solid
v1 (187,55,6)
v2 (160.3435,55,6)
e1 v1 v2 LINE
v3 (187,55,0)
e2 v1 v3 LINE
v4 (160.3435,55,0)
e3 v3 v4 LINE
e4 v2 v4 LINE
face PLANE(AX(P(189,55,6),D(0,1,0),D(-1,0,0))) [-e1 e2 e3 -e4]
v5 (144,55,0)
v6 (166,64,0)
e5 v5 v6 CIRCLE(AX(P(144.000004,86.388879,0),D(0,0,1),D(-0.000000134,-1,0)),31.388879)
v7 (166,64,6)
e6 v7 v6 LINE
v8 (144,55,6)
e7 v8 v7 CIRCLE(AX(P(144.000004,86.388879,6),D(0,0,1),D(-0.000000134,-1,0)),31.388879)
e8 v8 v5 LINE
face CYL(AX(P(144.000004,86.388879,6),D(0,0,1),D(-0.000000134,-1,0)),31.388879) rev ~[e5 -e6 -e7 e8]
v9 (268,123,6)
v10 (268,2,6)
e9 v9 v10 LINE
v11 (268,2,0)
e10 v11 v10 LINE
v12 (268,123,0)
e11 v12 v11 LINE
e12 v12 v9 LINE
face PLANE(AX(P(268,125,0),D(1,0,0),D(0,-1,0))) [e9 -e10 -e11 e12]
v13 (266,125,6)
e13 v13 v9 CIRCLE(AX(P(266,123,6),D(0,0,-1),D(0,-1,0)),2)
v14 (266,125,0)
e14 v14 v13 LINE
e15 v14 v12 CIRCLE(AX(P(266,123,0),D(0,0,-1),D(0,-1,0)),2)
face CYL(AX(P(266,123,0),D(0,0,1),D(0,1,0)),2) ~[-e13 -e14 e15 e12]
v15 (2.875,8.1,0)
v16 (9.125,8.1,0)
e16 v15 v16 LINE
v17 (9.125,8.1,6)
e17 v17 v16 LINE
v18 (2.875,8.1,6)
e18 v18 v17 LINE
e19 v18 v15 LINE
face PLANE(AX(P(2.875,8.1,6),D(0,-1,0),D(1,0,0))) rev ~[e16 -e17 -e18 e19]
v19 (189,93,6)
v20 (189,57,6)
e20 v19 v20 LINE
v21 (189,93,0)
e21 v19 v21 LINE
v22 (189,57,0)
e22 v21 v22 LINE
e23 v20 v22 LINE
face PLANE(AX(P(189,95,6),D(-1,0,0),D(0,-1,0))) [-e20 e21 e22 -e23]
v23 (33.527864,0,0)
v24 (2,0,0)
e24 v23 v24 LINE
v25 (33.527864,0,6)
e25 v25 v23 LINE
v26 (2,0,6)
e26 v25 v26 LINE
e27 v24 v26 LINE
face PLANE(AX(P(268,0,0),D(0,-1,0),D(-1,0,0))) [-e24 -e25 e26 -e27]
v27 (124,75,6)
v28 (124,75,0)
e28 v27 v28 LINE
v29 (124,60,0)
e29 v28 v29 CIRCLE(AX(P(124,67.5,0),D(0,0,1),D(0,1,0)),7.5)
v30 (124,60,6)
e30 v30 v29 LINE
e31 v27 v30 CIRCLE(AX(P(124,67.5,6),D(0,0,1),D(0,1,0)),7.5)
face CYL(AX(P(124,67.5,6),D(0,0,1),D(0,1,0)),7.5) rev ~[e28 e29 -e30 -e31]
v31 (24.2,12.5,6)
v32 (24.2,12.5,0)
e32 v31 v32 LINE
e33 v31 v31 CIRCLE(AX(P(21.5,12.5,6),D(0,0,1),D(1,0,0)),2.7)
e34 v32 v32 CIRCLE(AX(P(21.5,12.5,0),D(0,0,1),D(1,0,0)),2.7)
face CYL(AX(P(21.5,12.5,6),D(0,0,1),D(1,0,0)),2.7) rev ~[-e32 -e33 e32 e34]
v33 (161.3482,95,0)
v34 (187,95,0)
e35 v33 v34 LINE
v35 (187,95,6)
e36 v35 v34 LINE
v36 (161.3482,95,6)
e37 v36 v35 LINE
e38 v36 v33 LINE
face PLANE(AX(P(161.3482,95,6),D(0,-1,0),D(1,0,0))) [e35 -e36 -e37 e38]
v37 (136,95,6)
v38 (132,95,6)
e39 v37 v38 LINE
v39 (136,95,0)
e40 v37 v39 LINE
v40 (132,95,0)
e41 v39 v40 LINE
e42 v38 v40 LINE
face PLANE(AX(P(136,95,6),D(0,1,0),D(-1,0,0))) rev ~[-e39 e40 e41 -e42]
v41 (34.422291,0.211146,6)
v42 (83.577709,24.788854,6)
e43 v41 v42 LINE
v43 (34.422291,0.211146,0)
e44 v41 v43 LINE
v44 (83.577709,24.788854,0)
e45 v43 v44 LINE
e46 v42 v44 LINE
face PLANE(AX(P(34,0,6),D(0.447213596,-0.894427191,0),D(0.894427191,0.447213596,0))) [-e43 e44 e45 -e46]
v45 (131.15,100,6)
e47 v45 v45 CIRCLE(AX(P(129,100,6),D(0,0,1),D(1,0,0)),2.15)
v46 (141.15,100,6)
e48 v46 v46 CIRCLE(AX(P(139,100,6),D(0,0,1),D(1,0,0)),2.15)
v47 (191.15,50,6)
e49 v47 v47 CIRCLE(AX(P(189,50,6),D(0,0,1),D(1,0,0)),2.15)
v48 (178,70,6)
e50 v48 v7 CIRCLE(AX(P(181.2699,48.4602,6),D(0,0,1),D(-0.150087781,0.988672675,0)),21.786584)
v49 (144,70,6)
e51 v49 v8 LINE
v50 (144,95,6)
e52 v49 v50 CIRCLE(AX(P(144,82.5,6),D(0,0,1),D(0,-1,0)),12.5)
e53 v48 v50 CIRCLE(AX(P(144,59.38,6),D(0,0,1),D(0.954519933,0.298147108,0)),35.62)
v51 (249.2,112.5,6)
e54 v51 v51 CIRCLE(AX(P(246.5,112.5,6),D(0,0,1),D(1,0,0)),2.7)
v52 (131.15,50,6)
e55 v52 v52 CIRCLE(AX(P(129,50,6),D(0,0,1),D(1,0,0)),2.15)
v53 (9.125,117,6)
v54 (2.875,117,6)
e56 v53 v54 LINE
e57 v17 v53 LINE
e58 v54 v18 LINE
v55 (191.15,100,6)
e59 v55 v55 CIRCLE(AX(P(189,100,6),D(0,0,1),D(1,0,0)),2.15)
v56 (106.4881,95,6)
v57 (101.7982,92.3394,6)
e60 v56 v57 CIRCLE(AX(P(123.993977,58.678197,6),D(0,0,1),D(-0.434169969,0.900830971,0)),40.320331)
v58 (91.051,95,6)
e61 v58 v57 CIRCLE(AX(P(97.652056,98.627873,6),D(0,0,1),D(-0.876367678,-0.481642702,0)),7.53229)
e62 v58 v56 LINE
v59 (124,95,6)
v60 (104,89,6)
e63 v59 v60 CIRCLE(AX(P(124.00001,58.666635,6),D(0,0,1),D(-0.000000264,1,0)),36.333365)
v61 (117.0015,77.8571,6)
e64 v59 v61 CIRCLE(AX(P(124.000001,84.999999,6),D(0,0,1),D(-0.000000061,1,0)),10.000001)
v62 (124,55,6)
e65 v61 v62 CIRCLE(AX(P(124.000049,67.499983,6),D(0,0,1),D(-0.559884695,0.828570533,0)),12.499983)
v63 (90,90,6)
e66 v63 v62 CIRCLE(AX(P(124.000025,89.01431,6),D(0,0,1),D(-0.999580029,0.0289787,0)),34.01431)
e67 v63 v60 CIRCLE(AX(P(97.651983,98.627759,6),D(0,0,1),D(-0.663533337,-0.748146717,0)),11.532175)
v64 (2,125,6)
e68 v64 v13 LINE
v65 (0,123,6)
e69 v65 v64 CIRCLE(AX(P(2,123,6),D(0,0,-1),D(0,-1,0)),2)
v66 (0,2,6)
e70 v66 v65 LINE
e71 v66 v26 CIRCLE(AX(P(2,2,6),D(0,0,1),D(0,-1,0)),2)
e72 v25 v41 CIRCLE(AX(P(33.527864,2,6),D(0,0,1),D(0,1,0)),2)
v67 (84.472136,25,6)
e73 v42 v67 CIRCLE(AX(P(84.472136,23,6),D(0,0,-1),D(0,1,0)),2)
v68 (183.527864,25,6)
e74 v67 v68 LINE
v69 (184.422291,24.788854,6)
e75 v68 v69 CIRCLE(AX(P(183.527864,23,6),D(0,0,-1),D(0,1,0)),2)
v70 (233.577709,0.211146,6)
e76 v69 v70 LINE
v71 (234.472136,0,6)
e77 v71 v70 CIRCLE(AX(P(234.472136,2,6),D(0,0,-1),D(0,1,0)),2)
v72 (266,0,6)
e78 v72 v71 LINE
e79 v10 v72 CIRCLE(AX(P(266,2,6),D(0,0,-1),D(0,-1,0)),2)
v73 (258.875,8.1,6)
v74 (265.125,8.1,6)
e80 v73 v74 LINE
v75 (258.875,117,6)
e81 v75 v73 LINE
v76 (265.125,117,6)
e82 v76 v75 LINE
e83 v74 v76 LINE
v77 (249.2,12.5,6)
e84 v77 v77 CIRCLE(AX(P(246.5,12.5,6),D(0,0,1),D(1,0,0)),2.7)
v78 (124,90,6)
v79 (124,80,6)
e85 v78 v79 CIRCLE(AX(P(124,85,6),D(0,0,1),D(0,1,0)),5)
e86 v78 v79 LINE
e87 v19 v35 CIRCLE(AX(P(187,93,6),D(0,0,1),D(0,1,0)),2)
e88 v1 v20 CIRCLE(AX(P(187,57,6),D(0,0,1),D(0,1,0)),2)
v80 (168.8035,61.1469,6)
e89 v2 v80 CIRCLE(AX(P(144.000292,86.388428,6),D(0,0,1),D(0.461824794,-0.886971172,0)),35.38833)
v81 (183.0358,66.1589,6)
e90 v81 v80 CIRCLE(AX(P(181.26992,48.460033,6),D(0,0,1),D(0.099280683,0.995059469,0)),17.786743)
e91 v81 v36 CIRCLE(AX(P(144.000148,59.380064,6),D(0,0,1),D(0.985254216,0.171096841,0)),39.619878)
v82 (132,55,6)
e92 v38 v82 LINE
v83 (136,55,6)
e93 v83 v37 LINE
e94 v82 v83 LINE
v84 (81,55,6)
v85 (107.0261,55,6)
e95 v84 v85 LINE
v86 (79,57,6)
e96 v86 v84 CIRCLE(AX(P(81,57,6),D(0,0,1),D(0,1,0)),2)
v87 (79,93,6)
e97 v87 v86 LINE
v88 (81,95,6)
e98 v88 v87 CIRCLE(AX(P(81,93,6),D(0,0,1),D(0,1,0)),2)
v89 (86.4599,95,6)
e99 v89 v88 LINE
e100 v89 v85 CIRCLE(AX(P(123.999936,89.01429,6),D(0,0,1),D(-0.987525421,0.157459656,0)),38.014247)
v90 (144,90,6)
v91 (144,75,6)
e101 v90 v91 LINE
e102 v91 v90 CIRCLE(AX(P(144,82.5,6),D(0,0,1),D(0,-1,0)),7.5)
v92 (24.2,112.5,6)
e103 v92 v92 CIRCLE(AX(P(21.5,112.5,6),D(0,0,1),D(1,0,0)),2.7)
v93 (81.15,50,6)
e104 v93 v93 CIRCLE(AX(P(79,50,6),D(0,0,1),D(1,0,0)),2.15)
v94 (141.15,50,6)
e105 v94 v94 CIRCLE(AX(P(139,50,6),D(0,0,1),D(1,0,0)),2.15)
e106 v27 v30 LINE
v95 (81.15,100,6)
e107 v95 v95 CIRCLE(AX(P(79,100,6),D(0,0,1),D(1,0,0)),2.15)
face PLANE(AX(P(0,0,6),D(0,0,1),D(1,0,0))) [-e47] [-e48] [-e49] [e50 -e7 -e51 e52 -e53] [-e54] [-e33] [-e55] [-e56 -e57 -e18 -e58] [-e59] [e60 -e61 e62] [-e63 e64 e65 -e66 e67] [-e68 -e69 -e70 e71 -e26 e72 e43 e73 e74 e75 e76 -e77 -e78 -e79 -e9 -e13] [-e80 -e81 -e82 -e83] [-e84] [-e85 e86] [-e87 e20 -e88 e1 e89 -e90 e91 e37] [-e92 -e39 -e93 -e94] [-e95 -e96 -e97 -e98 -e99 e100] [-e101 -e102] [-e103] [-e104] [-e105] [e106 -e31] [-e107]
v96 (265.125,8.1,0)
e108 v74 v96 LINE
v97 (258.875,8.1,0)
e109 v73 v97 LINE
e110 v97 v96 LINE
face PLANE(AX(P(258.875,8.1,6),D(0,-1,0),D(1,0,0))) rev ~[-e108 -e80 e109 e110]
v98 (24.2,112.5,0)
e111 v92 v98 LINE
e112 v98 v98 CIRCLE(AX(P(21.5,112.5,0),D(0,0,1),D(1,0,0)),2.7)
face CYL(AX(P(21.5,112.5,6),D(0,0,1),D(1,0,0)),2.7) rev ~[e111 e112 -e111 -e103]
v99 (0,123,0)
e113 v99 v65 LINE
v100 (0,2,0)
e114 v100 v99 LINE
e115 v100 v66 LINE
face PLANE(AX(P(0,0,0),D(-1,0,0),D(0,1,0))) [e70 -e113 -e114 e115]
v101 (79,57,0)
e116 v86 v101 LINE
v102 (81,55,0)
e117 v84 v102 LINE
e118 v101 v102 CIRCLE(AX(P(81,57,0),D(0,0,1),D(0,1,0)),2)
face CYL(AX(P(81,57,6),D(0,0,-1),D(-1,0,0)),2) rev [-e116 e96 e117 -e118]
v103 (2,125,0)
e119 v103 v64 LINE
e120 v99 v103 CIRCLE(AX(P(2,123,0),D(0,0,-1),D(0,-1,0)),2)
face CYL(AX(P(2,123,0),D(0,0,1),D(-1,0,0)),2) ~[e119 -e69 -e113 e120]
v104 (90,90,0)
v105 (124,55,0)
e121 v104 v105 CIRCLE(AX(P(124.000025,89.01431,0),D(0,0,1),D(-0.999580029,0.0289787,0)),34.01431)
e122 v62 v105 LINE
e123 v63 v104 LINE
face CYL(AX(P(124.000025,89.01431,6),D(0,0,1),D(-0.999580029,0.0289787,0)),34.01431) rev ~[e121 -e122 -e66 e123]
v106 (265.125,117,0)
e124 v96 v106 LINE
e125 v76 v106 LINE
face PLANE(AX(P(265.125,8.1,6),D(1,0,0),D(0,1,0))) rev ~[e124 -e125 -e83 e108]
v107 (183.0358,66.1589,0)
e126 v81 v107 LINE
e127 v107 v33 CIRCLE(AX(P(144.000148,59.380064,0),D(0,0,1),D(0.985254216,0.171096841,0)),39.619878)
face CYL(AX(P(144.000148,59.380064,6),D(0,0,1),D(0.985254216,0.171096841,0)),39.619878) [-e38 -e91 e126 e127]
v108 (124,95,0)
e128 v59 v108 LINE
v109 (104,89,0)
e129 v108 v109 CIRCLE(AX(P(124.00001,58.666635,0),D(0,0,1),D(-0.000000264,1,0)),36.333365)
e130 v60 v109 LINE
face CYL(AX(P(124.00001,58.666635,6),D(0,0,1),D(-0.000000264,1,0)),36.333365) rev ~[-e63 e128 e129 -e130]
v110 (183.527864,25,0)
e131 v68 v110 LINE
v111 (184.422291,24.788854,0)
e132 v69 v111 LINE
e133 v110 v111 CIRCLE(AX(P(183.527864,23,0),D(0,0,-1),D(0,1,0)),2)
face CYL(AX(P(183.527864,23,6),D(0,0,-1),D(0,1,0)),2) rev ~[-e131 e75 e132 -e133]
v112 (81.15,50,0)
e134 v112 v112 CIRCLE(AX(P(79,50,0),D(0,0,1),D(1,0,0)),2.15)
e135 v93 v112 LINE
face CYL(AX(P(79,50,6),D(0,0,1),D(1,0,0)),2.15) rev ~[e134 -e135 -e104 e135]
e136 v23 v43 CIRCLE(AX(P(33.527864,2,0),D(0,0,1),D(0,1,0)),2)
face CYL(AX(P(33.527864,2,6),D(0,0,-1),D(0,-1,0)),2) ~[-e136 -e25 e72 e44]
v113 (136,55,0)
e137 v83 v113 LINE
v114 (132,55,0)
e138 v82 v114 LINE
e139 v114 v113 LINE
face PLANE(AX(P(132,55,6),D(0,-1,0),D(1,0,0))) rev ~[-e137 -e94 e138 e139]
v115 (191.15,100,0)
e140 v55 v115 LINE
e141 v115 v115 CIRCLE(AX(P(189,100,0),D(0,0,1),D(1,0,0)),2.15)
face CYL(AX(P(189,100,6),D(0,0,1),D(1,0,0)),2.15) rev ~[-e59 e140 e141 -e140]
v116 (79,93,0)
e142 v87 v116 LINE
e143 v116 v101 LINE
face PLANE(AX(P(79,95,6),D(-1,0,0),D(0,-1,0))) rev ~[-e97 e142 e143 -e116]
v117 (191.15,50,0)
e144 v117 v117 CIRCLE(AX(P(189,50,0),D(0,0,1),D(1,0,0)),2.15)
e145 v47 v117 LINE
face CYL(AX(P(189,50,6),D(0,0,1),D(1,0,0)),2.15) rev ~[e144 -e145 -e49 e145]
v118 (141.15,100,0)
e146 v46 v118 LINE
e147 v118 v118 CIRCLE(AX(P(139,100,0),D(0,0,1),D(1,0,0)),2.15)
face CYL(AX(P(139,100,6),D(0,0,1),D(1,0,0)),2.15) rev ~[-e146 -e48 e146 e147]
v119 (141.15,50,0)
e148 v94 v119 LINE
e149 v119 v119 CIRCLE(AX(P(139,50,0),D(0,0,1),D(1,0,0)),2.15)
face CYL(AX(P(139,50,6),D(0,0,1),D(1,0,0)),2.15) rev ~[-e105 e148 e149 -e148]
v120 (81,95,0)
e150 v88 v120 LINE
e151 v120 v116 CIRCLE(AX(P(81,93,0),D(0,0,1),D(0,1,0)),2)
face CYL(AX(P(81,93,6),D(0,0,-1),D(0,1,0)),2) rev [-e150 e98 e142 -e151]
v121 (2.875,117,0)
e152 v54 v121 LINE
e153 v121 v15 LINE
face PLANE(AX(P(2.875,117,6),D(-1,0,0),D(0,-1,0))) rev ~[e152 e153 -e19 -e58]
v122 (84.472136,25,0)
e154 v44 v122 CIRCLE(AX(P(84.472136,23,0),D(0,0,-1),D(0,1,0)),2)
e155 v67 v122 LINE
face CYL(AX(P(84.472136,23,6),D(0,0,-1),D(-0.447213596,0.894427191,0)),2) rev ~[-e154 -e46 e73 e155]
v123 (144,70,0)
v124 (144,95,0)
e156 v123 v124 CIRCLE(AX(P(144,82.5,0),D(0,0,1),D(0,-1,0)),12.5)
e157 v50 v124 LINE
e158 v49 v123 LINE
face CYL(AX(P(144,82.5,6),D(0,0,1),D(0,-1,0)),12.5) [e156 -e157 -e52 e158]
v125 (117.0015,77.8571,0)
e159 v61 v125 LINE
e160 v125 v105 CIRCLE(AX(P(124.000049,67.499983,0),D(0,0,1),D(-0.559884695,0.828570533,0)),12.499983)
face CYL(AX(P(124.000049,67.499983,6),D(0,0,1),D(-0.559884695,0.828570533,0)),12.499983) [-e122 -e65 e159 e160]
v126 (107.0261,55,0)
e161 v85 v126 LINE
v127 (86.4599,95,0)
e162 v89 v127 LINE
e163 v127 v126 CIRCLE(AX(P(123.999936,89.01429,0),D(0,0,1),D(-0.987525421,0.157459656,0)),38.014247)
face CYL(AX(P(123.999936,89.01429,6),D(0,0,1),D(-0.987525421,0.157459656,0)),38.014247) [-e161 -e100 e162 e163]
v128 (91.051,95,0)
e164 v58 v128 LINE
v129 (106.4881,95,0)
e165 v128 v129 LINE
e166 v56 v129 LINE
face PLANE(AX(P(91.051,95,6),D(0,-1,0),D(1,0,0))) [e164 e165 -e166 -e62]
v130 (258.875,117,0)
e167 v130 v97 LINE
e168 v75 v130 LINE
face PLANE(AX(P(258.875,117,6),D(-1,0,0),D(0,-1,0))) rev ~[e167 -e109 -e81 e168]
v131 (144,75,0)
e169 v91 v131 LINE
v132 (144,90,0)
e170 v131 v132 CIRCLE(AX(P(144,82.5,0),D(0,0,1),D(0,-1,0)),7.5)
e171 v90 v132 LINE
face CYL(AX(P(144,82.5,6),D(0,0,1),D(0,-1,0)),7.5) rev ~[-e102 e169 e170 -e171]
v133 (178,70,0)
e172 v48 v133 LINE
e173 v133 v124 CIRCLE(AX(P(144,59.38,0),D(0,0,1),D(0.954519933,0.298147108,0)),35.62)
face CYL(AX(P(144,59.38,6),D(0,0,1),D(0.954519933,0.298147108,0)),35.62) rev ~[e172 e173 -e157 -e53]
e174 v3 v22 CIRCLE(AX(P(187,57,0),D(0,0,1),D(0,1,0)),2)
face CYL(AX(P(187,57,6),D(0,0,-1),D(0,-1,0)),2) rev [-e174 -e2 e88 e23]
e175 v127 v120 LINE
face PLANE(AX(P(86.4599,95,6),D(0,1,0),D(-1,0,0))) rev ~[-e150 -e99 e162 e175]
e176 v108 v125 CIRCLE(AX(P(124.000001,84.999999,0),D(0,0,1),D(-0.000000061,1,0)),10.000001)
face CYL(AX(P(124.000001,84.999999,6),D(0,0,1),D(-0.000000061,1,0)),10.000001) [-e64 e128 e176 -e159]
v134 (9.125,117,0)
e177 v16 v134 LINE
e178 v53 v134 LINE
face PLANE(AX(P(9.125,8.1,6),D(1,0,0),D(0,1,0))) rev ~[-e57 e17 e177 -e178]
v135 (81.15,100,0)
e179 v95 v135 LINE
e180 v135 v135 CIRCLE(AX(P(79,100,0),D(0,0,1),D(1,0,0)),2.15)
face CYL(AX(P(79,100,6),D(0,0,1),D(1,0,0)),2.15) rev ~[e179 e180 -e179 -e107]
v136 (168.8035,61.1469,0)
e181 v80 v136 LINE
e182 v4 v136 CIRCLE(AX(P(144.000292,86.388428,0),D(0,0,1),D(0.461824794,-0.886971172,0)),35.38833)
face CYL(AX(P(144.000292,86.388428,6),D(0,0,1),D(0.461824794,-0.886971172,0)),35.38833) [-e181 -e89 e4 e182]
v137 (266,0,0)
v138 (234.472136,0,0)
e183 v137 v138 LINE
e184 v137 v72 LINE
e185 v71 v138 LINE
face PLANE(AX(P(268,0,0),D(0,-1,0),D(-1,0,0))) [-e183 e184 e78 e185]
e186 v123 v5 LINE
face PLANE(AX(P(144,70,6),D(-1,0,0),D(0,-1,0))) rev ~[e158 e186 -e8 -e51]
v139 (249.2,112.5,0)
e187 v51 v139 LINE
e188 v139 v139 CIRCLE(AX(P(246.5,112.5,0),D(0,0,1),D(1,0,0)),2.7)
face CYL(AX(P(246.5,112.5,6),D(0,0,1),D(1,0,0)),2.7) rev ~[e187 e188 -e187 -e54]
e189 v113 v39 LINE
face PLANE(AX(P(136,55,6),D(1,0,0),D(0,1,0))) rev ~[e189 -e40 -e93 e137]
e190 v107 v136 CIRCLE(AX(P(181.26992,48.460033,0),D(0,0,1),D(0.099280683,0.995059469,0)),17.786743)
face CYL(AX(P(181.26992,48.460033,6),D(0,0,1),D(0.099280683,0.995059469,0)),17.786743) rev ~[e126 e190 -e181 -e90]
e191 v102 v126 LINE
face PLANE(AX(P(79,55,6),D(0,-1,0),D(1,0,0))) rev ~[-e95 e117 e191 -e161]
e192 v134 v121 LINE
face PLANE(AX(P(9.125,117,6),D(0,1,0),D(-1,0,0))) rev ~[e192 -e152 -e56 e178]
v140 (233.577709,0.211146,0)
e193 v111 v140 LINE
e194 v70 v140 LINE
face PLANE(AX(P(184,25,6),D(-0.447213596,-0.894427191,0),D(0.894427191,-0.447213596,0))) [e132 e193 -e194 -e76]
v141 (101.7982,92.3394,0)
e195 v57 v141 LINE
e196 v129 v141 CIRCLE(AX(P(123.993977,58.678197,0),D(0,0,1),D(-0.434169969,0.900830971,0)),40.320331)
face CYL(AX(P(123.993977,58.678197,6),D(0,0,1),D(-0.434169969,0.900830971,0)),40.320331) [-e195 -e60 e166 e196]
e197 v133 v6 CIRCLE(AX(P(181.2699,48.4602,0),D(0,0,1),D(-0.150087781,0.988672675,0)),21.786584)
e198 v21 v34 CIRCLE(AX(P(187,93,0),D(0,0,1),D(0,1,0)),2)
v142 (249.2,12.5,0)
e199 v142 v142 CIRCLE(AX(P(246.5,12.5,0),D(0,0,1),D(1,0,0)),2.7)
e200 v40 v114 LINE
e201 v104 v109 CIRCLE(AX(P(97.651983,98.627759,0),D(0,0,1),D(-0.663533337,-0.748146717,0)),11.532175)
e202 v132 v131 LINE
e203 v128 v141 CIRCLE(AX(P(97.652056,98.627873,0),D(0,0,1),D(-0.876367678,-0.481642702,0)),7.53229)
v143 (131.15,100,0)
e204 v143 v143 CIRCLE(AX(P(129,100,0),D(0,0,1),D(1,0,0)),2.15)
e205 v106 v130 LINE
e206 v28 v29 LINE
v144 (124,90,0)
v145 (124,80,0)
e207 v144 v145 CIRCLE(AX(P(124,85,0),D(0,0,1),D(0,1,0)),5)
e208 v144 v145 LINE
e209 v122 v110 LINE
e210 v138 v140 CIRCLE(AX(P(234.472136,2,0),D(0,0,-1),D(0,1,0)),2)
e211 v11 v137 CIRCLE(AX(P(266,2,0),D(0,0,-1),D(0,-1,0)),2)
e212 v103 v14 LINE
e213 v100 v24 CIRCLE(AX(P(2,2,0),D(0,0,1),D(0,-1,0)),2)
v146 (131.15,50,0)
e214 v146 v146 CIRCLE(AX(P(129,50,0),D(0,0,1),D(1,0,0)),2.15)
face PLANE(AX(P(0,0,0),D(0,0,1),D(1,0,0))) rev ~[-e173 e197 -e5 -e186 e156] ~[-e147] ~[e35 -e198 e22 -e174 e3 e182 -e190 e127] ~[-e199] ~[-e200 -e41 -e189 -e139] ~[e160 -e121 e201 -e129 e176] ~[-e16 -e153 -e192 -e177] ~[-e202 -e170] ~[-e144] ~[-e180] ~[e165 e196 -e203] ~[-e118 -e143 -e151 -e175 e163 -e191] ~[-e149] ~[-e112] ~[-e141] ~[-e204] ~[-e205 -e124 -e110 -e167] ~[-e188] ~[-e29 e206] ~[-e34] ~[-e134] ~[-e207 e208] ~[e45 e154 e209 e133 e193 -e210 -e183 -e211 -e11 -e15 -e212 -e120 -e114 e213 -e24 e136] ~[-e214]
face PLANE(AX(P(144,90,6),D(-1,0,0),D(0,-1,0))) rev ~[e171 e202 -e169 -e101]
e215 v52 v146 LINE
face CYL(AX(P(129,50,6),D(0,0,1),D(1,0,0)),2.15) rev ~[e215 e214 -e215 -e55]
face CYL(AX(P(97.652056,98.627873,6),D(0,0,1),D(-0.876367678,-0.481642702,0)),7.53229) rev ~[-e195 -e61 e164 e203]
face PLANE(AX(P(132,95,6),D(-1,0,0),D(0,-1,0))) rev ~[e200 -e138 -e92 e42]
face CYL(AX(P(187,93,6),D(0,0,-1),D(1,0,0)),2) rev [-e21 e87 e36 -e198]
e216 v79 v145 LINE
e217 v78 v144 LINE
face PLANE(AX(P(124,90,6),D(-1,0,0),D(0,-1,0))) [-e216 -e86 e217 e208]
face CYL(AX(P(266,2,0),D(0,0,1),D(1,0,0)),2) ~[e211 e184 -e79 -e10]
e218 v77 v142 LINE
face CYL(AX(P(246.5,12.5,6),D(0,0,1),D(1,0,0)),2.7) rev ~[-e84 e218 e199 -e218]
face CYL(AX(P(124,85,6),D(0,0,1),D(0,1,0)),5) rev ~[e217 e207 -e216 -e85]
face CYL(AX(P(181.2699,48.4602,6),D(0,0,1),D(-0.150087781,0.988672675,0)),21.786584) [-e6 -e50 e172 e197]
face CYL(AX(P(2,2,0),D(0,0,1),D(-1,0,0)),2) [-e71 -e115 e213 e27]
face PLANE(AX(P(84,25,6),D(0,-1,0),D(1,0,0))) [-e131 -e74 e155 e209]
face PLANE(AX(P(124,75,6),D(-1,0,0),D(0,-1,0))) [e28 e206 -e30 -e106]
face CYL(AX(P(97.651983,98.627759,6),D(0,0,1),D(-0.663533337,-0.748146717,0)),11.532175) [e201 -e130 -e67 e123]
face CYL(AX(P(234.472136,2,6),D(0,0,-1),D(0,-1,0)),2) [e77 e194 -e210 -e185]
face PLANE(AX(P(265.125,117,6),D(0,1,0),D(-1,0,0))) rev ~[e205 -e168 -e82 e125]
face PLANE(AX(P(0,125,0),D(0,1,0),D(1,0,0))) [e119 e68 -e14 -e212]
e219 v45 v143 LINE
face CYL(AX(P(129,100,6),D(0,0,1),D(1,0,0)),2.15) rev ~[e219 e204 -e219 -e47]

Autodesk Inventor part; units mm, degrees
ref_plane "YZ Plane" through (0, 0, 0) normal (1, 0, 0) x (0, 1, 0)
ref_plane "XZ Plane" through (0, 0, 0) normal (0, 1, 0) x (-1, 0, 0)
ref_plane "XY Plane" through (0, 0, 0) normal (0, 0, 1) x (1, 0, 0)
sketch "Sketch1" plane through (0, 0, 0) normal (0, 0, 1) x (1, 0, 0)
  line L0 (0, 0) -> (0, 125)
  line L1 (0, 125) -> (268, 125)
  line L2 (268, 125) -> (268, 0)
  line L3 (268, 0) -> (0, 0)
  point P0 (134, 125)
  dimension "d1" = 125
  dimension "d2" = 268
extrude "Extrusion1" add sketch "Sketch1" along normal blind 6
sketch "Sketch2" plane through (0, 0, 6) normal (0, 0, 1) x (1, 0, 0)
  line L0 (0, 0) -> (268, 0) projected
  line L1 (268, 0) -> (268, 125) projected
  line L2 (34, 0) -> (84, 25)
  line L3 (84, 25) -> (184, 25)
  line L4 (184, 25) -> (234, 0)
  line L5 (234, 0) -> (34, 0)
  line L6 (0, 125) -> (0, 0) projected
  dimension "d6" = 25
  dimension "d7" = 34
  dimension "d9" = 50
  dimension "d47" = 34
extrude "Extrusion2" cut sketch "Sketch2" against normal through all
sketch "Sketch7" plane through (0, 0, 6) normal (0, 0, 1) x (1, 0, 0)
  line L0 (268, 0) -> (268, 125) projected
  line L1 (268, 125) -> (0, 125) projected
  line L2 (0, 125) -> (0, 0) projected
  line L3 (0, 0) -> (34, 0) projected
  circle A0 centre (246.5, 12.5) radius 2.7
  circle A1 centre (246.5, 112.5) radius 2.7
  circle A2 centre (21.5, 12.5) radius 2.7
  circle A3 centre (21.5, 112.5) radius 2.7
  line L4 (2.875, 8.1) -> (9.125, 8.1)
  line L5 (9.125, 8.1) -> (9.125, 117)
  line L6 (9.125, 117) -> (2.875, 117)
  line L7 (2.875, 117) -> (2.875, 8.1)
  line L8 (2.875, 8.1) -> (9.125, 117) construction
  line L9 (9.125, 8.1) -> (2.875, 117) construction
  line L10 (258.875, 8.1) -> (265.125, 8.1)
  line L11 (265.125, 8.1) -> (265.125, 117)
  line L12 (265.125, 117) -> (258.875, 117)
  line L13 (258.875, 117) -> (258.875, 8.1)
  line L14 (258.875, 8.1) -> (265.125, 117) construction
  line L15 (265.125, 8.1) -> (258.875, 117) construction
  point P0 (6, 62.55)
  point P1 (262, 62.55)
  point P2 (6, 62.55)
  point P3 (262, 62.55)
  dimension "d48" = 21.5
  dimension "d49" = 21.5
  dimension "d50" = 12.5
  dimension "d51" = 12.5
  dimension "d56" = 2.875
  dimension "d57" = 6.25
  dimension "d58" = 2.875
  dimension "d60" = 8
  dimension "d61" = 5.4
  dimension "d62" = 108.9
  dimension "d66" = 8.1
extrude "Extrusion5" cut sketch "Sketch7" against normal through all
fillet "Fillet1" radius 2 8 edges at (268, 125, 3) (268, 0, 3) (234, 0, 3) (184, 25, 3) (84, 25, 3) (34, 0, 3) (0, 0, 3) (0, 125, 3)
sketch "Sketch8" plane through (0, 0, 6) normal (0, 0, 1) x (1, 0, 0)
  line L0 (9.125, 8.1) -> (2.875, 8.1) projected
  line L1 (84.4721, 25) -> (183.5279, 25) projected
  line L2 (266, 125) -> (2, 125) projected
  line L3 (79, 50) -> (129, 50) construction
  line L4 (129, 50) -> (129, 100) construction
  line L5 (129, 100) -> (79, 100) construction
  line L6 (79, 100) -> (79, 50) construction
  line L7 (79, 50) -> (129, 100) construction
  line L8 (129, 50) -> (79, 100) construction
  line L9 (139, 50) -> (189, 50) construction
  line L10 (189, 50) -> (189, 100) construction
  line L11 (189, 100) -> (139, 100) construction
  line L12 (139, 100) -> (139, 50) construction
  line L13 (139, 50) -> (189, 100) construction
  line L14 (189, 50) -> (139, 100) construction
  line L15 (104, 75) -> (164, 75) construction
  line L16 (134, 75) -> (134, 25) construction
  circle A0 centre (79, 100) radius 2.15
  circle A1 centre (129, 100) radius 2.15
  circle A2 centre (139, 100) radius 2.15
  circle A3 centre (189, 100) radius 2.15
  circle A4 centre (189, 50) radius 2.15
  circle A5 centre (139, 50) radius 2.15
  circle A6 centre (129, 50) radius 2.15
  circle A7 centre (79, 50) radius 2.15
  point P0 (0, 0)
  dimension "d67" = 50
  dimension "d68" = 60
  dimension "d69" = 100
  dimension "d70" = 25
  dimension "d71" = 4.3
extrude "Extrusion6" cut sketch "Sketch8" against normal blind 10
sketch "Sketch9" plane through (0, 0, 6) normal (0, 0, 1) x (1, 0, 0)
  circle A0 centre (79, 100) radius 2.15 projected
  circle A1 centre (79, 50) radius 2.15 projected
  line L0 (9.125, 117) -> (9.125, 8.1) projected
  line L1 (9.125, 8.1) -> (2.875, 8.1) projected
  line L2 (84.4721, 25) -> (183.5279, 25) projected
  line L3 (132, 55) -> (136, 55)
  line L4 (136, 55) -> (136, 95)
  line L5 (136, 95) -> (132, 95)
  line L6 (132, 95) -> (132, 55)
  line L7 (132, 55) -> (136, 95) construction
  line L8 (136, 55) -> (132, 95) construction
  line L9 (134, 25) -> (134, 75) construction
  line L10 (144, 90) -> (144, 75)
  arc A2 (144, 75) -> (144, 90) centre (144, 82.5) ccw
  arc A3 (144, 70) -> (144, 95) centre (144, 82.5) ccw
  line L11 (144, 70) -> (144, 55)
  arc A4 (178, 70) -> (144, 95) centre (144, 59.38) ccw
  arc A5 (178, 70) -> (166, 64) centre (181.2699, 48.4602) ccw
  arc A6 (144, 55) -> (166, 64) centre (144, 86.3889) ccw
  line L12 (144, 95) -> (136, 95) construction
  line L13 (136, 55) -> (144, 55) construction
  line L14 (161.3482, 95) -> (189, 95)
  line L15 (189, 95) -> (189, 55)
  line L16 (189, 55) -> (160.3435, 55)
  arc A7 (183.0358, 66.1589) -> (161.3482, 95) centre (144, 59.38) ccw
  arc A8 (160.3435, 55) -> (168.8035, 61.1469) centre (144, 86.3889) ccw
  arc A9 (183.0358, 66.1589) -> (168.8035, 61.1469) centre (181.2699, 48.4602) ccw
  line L17 (124, 75) -> (124, 60)
  line L18 (124, 90) -> (124, 80)
  arc A10 (124, 90) -> (124, 80) centre (124, 85) ccw
  arc A11 (124, 75) -> (124, 60) centre (124, 67.5) ccw
  arc A12 (117.0015, 77.8571) -> (124, 55) centre (124, 67.5) ccw
  arc A13 (124, 95) -> (117.0015, 77.8571) centre (124, 85) ccw
  line L19 (132, 95) -> (124, 95) construction
  line L20 (132, 55) -> (124, 55) construction
  arc A14 (124, 95) -> (104, 89) centre (124, 58.6667) ccw
  arc A15 (90, 90) -> (104, 89) centre (97.652, 98.6278) ccw
  arc A16 (90, 90) -> (124, 55) centre (124, 89.0143) ccw
  line L21 (86.4599, 95) -> (79, 95)
  line L22 (79, 95) -> (79, 55)
  line L23 (79, 55) -> (107.0261, 55)
  arc A17 (86.4599, 95) -> (107.0261, 55) centre (124, 89.0143) ccw
  arc A18 (91.051, 95) -> (101.7982, 92.3394) centre (97.652, 98.6278) ccw
  arc A19 (106.4881, 95) -> (101.7982, 92.3394) centre (124, 58.6667) ccw
  line L24 (91.051, 95) -> (106.4881, 95)
  point P0 (0, 0)
  point P1 (140, 55)
  dimension "d74" = 4
  dimension "d75" = 40
  dimension "d76" = 50
  dimension "d77" = 25
  dimension "d78" = 12.5
  dimension "d79" = 5
  dimension "d80" = 8
  dimension "d81" = 22
  dimension "d82" = 15
  dimension "d83" = 34
  dimension "d84" = 9
  dimension "d85" = 4
  dimension "d86" = 4
  dimension "d87" = 55
  dimension "d88" = 8
  dimension "d89" = 5
  dimension "d90" = 10
  dimension "d91" = 5
  dimension "d92" = 34
  dimension "d93" = 35
  dimension "d94" = 20
  dimension "d95" = 6
  dimension "d96" = 55
  dimension "d97" = 4
  dimension "d99" = 4
extrude "Extrusion7" cut sketch "Sketch9" against normal blind 10 contours L6 L5 L4 L3 | A2 L10 | A3 A4 A5 A6 L11 | L14 L15 L16 A8 A9 A7 | L17 A11 | L18 A10 | A12 A16 A15 A14 A13 | A17 L23 L22 L21 | L24 A19 A18
fillet "Fillet2" radius 2 4 edges at (79, 95, 3) (79, 55, 3) (189, 55, 3) (189, 95, 3)
equation "\"d7\" = d47"
equation "\"d49\" = d48"
equation "\"d51\" = d50"
equation "\"d58\" = d56"
equation "\"d70\" = -0.5 * d67 + 0.5 * d69"
equation "\"d77\" = 0.5 * d76"
equation "\"d86\" = d85"
equation "\"d89\" = d79"
equation "\"d91\" = d79"
equation "\"d97\" = d85"
properties part number "FrontPanel"
